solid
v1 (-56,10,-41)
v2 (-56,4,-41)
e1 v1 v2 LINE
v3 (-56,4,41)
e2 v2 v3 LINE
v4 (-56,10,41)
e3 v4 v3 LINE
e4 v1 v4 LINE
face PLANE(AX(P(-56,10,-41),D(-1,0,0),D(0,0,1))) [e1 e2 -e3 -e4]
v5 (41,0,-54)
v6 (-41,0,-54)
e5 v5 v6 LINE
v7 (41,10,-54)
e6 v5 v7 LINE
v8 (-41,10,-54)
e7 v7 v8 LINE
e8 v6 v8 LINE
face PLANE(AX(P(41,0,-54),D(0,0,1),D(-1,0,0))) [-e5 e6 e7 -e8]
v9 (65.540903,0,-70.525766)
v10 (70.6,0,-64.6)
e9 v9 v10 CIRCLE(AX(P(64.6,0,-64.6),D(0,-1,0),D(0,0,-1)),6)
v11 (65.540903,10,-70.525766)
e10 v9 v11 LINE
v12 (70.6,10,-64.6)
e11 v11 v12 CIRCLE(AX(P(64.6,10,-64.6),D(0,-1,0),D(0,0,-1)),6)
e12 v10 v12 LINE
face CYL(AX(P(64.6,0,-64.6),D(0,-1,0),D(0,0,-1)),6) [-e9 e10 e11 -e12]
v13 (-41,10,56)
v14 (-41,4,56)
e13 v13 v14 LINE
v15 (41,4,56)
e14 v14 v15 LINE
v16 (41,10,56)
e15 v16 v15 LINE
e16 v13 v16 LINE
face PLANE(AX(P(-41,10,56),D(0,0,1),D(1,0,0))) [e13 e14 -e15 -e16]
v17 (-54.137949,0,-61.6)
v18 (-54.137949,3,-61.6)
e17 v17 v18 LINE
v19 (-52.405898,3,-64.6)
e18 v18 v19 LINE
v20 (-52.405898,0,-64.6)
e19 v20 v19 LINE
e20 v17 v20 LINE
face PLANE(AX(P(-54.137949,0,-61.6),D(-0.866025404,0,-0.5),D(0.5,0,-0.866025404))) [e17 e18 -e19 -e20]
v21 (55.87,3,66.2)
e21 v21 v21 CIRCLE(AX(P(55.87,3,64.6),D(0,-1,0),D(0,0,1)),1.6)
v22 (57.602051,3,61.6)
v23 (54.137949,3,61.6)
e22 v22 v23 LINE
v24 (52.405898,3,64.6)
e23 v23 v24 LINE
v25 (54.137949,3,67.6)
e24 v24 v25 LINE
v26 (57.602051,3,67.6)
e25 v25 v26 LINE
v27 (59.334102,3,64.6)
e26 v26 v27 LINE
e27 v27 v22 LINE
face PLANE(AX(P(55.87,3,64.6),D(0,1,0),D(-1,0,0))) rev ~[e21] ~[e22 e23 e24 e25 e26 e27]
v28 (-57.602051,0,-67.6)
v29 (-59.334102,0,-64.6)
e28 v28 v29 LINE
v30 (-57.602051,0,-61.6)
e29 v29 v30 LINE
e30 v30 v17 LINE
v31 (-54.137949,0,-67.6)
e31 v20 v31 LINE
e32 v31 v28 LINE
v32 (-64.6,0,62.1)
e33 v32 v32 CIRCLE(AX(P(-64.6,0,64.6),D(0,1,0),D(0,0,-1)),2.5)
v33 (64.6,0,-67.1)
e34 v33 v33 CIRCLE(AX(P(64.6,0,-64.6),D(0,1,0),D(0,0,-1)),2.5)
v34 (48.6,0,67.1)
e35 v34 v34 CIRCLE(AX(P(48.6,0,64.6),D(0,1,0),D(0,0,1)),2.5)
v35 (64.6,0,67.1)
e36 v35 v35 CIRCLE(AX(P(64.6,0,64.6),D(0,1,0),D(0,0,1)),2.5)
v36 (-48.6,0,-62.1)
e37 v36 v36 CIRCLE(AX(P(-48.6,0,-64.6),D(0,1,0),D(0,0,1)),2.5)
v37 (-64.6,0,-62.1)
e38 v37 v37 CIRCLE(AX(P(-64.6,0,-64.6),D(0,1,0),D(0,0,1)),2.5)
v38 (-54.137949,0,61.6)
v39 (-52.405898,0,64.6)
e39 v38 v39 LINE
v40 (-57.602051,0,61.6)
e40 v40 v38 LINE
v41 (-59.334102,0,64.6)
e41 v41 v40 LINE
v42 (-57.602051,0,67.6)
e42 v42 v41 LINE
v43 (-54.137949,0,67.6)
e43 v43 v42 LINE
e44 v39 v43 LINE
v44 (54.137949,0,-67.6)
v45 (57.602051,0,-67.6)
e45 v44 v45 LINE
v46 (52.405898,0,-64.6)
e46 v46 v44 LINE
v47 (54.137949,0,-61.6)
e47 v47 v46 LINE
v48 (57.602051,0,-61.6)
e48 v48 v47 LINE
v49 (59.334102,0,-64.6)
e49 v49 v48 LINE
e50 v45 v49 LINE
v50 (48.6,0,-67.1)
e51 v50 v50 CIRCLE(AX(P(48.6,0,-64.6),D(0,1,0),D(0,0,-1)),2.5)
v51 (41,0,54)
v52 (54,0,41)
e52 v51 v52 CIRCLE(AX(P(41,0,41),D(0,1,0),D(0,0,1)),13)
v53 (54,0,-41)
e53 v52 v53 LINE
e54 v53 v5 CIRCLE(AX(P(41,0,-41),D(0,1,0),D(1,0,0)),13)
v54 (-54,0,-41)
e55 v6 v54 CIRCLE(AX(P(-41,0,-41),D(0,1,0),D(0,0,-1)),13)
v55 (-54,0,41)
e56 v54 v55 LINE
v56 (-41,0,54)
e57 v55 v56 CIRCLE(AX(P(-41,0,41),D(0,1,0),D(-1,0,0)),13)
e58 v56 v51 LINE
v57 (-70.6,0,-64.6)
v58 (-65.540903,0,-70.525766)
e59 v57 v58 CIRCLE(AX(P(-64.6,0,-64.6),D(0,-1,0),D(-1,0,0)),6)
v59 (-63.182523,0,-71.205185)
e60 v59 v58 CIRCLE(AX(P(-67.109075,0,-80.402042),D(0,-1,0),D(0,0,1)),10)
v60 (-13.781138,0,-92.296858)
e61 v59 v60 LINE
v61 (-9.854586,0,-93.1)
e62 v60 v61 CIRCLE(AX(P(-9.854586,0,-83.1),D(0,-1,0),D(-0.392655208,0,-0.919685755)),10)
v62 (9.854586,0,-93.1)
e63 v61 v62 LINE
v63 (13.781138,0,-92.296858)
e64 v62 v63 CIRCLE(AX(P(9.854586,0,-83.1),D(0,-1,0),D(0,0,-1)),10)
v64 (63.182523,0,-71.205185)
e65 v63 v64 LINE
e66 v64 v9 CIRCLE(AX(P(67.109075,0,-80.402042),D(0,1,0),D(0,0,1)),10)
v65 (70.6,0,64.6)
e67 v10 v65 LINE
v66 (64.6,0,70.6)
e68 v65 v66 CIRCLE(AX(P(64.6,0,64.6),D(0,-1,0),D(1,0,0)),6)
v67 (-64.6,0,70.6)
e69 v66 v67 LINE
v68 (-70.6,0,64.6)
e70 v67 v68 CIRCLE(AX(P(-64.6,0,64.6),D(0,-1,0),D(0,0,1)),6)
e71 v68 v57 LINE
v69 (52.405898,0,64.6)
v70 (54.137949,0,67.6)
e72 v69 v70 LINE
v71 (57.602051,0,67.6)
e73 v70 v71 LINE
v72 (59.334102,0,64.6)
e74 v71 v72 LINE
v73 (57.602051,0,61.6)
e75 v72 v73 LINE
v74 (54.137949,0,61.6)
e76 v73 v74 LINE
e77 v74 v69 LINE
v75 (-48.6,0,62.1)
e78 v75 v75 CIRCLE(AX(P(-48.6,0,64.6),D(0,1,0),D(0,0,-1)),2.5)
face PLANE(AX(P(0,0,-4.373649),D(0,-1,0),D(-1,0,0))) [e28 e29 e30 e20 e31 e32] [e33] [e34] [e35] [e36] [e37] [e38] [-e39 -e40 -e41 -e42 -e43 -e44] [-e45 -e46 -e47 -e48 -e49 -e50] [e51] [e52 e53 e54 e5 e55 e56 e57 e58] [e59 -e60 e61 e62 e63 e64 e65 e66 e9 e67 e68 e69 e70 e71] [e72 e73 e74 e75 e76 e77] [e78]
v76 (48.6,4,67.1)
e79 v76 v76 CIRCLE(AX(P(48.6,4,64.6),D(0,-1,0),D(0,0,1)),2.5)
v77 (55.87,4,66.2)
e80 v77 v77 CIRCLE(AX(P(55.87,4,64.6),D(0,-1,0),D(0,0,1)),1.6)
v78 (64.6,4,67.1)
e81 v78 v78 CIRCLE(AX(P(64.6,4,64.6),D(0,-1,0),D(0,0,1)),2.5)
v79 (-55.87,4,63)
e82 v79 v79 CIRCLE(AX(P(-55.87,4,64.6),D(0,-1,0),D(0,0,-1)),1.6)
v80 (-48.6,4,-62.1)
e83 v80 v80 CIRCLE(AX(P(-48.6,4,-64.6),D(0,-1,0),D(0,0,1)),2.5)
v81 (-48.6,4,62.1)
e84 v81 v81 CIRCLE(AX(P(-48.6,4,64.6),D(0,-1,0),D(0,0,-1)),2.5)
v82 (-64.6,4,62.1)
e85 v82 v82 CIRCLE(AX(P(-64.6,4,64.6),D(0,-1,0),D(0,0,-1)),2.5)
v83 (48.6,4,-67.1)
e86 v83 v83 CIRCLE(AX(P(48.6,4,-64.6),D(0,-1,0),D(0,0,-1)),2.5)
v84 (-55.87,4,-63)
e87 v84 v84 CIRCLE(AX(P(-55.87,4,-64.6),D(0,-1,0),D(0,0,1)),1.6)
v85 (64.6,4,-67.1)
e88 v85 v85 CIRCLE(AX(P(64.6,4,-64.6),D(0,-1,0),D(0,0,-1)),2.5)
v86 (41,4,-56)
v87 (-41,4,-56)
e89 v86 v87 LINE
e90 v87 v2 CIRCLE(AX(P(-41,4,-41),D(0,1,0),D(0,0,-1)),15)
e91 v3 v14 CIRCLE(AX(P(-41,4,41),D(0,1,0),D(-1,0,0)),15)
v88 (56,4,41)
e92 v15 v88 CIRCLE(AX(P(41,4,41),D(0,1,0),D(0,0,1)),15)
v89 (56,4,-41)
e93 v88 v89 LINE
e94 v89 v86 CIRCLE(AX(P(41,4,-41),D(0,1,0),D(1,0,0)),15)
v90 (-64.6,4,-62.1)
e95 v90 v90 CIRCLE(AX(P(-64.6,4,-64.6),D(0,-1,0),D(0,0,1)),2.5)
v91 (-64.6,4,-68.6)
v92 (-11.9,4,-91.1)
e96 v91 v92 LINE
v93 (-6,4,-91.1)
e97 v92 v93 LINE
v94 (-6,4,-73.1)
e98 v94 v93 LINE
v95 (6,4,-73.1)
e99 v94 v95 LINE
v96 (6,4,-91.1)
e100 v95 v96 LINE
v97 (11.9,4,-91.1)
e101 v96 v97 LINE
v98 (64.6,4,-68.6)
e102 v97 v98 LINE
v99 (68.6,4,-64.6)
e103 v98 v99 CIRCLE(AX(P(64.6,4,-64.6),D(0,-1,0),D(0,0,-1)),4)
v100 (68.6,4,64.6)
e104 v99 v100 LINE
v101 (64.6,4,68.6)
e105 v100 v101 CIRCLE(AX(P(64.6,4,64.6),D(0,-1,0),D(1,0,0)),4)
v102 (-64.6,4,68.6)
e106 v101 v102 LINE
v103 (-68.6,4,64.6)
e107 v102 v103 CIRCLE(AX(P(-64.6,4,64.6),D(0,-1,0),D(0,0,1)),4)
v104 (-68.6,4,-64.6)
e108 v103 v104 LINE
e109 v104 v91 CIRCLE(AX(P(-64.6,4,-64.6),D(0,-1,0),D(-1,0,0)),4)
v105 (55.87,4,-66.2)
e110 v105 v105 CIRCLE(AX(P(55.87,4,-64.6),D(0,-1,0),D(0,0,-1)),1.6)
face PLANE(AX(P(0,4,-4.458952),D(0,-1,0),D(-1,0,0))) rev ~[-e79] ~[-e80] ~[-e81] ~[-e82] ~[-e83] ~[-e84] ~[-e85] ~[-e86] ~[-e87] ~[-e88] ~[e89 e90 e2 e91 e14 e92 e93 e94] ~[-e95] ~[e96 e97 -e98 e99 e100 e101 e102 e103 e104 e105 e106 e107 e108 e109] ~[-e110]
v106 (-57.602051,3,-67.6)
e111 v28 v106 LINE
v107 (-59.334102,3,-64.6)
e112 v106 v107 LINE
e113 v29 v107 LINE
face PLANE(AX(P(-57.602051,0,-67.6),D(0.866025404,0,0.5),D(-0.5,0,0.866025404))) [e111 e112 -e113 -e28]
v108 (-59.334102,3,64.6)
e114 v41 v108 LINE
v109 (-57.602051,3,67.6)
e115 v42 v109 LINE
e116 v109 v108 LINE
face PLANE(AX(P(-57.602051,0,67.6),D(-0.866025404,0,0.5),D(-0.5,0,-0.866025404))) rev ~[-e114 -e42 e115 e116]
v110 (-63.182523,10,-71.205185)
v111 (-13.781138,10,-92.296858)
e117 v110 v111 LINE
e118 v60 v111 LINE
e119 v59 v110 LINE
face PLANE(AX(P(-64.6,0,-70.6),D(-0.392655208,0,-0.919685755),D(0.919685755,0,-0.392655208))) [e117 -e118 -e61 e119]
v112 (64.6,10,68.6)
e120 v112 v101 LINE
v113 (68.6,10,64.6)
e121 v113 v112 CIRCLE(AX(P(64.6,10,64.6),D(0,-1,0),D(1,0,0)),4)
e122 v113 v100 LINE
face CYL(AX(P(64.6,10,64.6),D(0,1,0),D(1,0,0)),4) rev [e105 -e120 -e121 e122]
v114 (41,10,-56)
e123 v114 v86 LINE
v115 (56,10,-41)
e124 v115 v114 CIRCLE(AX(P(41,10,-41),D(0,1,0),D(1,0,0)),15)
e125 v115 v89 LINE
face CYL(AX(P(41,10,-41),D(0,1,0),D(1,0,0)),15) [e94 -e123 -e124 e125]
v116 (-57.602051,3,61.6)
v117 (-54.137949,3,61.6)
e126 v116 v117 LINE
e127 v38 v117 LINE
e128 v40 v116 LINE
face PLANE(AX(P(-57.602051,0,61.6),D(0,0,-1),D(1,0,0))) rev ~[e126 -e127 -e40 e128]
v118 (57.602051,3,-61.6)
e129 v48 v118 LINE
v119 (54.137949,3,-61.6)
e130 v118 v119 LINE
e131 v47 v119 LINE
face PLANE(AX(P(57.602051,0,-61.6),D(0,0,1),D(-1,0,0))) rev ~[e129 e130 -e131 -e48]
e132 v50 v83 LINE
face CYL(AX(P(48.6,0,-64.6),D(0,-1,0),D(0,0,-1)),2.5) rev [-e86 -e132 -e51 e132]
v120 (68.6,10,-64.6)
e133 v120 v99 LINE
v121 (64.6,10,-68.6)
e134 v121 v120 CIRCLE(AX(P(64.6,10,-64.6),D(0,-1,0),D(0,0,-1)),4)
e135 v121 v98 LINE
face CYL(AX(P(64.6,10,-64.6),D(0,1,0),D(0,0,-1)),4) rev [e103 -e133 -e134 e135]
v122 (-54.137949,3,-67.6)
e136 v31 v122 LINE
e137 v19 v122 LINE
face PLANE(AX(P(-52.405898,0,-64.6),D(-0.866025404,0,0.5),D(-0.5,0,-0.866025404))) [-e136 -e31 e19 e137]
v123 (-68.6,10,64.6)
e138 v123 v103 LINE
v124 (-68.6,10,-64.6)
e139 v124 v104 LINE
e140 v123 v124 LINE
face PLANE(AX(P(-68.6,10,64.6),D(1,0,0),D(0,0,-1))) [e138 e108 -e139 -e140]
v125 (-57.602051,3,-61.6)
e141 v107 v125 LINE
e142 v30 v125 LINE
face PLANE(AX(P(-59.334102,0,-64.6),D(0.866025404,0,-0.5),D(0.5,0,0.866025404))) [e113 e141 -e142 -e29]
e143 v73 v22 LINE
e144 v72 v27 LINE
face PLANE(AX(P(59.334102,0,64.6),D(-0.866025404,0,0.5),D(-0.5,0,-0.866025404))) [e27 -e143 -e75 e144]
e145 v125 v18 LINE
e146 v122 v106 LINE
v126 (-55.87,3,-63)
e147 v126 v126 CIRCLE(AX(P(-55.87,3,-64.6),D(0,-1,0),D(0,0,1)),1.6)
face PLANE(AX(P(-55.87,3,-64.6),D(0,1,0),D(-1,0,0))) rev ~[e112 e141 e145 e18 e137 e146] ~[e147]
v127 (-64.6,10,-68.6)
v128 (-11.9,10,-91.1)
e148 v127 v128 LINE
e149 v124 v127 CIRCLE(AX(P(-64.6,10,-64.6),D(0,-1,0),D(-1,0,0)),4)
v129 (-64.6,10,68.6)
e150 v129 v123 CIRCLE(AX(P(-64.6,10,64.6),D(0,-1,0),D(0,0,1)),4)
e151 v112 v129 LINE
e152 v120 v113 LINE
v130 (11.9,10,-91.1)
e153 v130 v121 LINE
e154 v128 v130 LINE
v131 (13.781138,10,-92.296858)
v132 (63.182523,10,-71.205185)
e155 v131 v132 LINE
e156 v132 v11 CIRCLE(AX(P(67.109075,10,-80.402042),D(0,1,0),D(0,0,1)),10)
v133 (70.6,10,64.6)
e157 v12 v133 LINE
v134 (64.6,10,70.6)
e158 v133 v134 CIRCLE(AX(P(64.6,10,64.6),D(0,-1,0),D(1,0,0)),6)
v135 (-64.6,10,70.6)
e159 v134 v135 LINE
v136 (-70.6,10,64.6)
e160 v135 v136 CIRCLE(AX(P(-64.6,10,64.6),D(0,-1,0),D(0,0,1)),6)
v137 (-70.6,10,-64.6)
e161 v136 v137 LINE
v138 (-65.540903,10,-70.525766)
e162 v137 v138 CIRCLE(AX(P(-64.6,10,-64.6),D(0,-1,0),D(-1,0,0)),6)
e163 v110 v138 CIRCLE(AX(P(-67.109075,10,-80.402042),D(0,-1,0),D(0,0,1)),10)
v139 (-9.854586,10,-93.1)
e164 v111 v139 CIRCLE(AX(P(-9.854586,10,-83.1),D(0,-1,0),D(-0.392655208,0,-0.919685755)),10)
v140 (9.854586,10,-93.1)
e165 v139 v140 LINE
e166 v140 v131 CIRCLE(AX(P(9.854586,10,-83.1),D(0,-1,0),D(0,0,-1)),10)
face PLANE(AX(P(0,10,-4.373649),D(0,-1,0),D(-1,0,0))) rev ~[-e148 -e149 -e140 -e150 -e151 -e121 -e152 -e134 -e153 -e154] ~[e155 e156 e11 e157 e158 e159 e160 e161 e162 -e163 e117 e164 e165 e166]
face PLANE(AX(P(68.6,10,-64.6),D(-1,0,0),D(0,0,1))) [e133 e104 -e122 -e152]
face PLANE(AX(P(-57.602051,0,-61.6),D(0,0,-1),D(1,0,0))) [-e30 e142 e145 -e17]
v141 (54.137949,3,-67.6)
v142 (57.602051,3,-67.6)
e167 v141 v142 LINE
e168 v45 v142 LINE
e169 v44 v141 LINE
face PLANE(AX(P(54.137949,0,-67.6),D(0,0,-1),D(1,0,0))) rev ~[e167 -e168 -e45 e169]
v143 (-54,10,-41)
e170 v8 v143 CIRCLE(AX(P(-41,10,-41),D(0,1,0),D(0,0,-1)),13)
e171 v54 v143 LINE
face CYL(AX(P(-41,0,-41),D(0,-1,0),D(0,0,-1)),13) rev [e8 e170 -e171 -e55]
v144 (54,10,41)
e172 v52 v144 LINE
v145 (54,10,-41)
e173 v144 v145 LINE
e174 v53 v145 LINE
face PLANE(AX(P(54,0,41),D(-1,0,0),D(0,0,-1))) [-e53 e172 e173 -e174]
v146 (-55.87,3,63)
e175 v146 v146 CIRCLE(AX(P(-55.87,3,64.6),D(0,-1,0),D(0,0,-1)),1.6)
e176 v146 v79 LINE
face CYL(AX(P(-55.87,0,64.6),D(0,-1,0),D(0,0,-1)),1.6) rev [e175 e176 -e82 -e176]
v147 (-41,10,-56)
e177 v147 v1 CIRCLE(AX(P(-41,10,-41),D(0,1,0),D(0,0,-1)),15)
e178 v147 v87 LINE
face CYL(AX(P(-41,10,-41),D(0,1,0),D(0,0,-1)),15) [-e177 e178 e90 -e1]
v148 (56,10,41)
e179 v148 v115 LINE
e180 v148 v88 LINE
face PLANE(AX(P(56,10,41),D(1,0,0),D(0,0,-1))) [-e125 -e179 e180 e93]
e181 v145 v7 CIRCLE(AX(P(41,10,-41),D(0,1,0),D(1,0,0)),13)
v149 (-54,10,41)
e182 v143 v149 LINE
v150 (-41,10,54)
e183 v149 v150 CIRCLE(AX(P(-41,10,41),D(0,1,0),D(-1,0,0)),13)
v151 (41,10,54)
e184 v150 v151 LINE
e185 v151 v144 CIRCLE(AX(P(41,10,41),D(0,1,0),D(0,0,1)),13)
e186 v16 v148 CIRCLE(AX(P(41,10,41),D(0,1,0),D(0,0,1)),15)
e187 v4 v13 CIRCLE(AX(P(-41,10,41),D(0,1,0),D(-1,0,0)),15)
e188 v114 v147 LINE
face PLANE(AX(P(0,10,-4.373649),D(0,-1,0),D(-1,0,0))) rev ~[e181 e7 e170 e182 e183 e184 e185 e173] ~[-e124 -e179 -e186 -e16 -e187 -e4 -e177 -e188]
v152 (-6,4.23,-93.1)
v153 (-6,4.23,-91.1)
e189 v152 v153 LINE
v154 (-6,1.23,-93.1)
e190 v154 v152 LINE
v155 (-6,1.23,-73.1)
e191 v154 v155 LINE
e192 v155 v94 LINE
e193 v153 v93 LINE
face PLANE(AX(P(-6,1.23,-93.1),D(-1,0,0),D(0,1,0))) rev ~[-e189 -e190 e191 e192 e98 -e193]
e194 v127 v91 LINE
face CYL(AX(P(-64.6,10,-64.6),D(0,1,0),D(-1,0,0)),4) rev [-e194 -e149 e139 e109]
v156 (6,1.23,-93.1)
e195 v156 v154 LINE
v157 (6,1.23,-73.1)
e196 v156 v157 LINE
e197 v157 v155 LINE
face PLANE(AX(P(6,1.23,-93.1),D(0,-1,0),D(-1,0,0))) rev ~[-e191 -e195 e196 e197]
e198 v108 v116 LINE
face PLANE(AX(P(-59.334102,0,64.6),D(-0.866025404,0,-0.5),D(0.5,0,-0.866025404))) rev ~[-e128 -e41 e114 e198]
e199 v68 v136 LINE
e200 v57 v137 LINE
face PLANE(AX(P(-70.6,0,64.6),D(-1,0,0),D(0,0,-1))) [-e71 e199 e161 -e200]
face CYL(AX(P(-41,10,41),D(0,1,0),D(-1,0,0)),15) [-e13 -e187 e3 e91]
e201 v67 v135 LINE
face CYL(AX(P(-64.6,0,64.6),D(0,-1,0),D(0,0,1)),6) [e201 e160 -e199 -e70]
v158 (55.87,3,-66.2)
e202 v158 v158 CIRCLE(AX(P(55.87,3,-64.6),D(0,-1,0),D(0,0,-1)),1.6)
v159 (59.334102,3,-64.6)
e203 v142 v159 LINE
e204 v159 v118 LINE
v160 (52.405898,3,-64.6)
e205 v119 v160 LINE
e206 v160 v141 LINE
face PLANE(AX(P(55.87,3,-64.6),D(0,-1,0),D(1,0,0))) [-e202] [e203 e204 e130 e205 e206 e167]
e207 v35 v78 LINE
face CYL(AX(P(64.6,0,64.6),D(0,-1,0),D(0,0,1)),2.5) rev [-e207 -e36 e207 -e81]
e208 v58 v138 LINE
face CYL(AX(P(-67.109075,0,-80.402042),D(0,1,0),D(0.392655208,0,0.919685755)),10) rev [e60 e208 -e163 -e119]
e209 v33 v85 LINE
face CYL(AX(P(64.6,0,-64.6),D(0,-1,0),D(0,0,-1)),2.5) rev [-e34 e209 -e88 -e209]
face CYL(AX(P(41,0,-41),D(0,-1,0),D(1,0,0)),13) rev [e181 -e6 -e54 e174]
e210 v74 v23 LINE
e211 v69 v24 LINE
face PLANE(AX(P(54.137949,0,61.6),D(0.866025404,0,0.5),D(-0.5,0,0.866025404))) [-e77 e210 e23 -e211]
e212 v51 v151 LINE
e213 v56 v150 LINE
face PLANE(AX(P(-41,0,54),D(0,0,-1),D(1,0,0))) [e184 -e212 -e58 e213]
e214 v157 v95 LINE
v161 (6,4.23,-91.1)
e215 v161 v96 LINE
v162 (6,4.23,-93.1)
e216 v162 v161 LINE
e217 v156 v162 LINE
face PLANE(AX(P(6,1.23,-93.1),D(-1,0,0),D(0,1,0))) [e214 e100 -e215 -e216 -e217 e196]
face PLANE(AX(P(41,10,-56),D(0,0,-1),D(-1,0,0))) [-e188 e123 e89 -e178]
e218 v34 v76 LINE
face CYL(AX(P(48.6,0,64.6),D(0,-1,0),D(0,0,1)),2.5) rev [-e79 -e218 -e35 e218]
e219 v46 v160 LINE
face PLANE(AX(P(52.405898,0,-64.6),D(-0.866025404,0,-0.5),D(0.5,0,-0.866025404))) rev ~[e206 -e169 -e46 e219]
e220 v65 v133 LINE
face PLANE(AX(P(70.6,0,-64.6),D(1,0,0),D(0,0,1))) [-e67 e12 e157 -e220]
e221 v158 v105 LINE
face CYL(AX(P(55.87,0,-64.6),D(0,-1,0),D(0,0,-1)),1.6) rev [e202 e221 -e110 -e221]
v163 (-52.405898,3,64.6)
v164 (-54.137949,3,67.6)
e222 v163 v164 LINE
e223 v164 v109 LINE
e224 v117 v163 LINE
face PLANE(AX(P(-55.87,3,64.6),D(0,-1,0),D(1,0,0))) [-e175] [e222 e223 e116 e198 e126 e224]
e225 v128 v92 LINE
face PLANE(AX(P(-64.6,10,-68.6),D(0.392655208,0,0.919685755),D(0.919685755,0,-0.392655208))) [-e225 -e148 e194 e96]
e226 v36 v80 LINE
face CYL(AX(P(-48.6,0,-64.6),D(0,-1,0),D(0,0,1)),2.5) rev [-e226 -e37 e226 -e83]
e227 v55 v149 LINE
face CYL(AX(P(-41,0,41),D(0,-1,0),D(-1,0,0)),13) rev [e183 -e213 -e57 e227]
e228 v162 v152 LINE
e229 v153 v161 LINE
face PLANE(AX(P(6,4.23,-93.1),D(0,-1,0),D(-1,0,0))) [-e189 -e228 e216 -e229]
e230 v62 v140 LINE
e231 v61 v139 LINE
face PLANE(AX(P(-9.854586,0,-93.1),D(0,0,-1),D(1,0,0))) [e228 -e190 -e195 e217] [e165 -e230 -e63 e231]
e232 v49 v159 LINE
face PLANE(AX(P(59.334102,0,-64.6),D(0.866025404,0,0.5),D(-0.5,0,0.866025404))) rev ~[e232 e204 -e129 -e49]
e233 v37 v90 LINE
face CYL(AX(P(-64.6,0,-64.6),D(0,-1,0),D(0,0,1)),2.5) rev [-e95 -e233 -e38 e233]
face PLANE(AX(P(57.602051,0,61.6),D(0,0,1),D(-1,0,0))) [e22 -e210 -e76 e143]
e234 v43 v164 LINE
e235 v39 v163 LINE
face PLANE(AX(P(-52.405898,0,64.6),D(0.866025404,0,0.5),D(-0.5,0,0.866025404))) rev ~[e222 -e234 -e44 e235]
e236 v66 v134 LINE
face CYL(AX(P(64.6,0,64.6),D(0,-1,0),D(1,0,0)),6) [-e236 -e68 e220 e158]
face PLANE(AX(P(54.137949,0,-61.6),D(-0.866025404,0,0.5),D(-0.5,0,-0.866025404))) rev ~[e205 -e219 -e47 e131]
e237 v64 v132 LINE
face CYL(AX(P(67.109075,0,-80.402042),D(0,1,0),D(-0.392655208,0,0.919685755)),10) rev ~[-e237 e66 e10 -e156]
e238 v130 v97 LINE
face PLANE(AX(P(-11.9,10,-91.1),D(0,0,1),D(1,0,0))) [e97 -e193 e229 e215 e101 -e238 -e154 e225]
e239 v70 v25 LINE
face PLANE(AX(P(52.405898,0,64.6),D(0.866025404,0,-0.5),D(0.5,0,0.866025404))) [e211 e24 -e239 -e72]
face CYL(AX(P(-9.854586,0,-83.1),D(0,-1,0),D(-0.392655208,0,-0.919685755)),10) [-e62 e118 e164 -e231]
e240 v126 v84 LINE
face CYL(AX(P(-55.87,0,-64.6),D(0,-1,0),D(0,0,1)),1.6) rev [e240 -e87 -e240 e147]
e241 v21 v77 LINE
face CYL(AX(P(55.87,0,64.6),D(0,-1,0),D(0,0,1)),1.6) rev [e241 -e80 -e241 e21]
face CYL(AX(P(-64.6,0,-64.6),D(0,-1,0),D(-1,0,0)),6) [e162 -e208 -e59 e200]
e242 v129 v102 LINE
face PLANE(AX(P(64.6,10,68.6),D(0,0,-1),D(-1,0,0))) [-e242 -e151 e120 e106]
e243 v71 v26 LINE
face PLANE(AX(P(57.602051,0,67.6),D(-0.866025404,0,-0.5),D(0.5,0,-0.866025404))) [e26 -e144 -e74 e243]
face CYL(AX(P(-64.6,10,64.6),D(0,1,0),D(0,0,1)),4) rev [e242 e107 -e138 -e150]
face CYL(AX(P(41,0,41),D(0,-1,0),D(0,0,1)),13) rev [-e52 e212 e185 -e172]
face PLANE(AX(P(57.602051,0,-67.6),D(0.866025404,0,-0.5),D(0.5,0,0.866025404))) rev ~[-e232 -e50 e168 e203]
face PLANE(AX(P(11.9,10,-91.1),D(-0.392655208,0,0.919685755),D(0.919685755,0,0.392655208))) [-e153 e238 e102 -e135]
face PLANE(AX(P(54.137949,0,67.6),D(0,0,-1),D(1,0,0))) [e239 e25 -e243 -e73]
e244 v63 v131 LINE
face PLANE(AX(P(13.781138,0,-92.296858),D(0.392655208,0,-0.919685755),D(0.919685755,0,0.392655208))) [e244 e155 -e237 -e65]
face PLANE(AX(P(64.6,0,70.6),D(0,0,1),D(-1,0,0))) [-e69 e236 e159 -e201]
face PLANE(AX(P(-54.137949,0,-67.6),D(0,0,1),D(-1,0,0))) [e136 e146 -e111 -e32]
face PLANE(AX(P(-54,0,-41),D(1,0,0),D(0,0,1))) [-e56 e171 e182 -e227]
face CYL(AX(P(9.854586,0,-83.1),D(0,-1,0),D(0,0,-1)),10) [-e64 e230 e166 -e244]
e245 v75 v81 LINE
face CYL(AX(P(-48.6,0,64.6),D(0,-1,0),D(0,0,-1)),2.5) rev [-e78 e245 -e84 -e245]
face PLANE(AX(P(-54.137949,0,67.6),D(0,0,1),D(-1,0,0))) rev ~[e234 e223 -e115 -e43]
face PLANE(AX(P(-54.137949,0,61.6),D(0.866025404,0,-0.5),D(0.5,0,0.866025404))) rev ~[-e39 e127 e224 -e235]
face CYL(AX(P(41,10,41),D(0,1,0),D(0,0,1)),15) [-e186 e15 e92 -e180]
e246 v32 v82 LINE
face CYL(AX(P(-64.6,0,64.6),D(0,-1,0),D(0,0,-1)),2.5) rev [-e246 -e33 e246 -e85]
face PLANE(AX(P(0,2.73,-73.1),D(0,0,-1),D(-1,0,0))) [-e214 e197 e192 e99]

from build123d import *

# Parameters (mm, degrees)
BOSS_EXTRUDE1_DEPTH = 10
CUT_EXTRUDE1_DEPTH  = 6
SKETCH3_R           = 2.5
SKETCH3_R_2         = 1.6
CUT_EXTRUDE5_DEPTH  = 118.268793803
CUT_EXTRUDE6_DEPTH  = 3
FILLET1_R           = 10
SKETCH7_W           = 12
SKETCH7_H           = 3
CUT_EXTRUDE7_DEPTH  = 20


with BuildPart() as part:
    # Sketch1 → Boss-Extrude1 (new body)
    with BuildSketch(Plane(origin=(0, 0, 0), x_dir=(1, 0, 0), z_dir=(0, 1, 0))):
        with BuildLine():
            Line((-64.6, 70.6), (-13.781138102, 92.296857547))
            ThreePointArc((-13.781138102, 92.296857547), (-11.858510235, 92.897157125), (-9.854586018, 93.1))
            Line((-9.854586018, 93.1), (9.854586018, 93.1))
            ThreePointArc((9.854586018, 93.1), (11.858510235, 92.897157125), (13.781138102, 92.296857547))
            Line((13.781138102, 92.296857547), (64.6, 70.6))
            ThreePointArc((64.6, 70.6), (68.842640687, 68.842640687), (70.6, 64.6))
            Line((70.6, 64.6), (70.6, -64.6))
            ThreePointArc((70.6, -64.6), (68.842640687, -68.842640687), (64.6, -70.6))
            Line((64.6, -70.6), (-64.6, -70.6))
            ThreePointArc((-64.6, -70.6), (-68.842640687, -68.842640687), (-70.6, -64.6))
            Line((-70.6, -64.6), (-70.6, 64.6))
            ThreePointArc((-70.6, 64.6), (-68.842640687, 68.842640687), (-64.6, 70.6))
        make_face()
        with BuildLine():
            Line((-41, -54), (41, -54))
            ThreePointArc((41, -54), (50.192388155, -50.192388155), (54, -41))
            Line((54, -41), (54, 41))
            ThreePointArc((54, 41), (50.192388155, 50.192388155), (41, 54))
            Line((41, 54), (-41, 54))
            ThreePointArc((-41, 54), (-50.192388155, 50.192388155), (-54, 41))
            Line((-54, 41), (-54, -41))
            ThreePointArc((-54, -41), (-50.192388155, -50.192388155), (-41, -54))
        make_face(mode=Mode.SUBTRACT)
    extrude(amount=BOSS_EXTRUDE1_DEPTH)

    # Sketch2 → Cut-Extrude1 (cut)
    with BuildSketch(Plane(origin=(0, 10, 0), x_dir=(1, 0, 0), z_dir=(0, 1, 0))):
        with BuildLine():
            Line((-64.6, 68.6), (-11.9, 91.1))
            Line((-11.9, 91.1), (11.9, 91.1))
            Line((11.9, 91.1), (64.6, 68.6))
            ThreePointArc((64.6, 68.6), (67.428427125, 67.428427125), (68.6, 64.6))
            Line((68.6, 64.6), (68.6, -64.6))
            ThreePointArc((68.6, -64.6), (67.428427125, -67.428427125), (64.6, -68.6))
            Line((64.6, -68.6), (-64.6, -68.6))
            ThreePointArc((-64.6, -68.6), (-67.428427125, -67.428427125), (-68.6, -64.6))
            Line((-68.6, -64.6), (-68.6, 64.6))
            ThreePointArc((-68.6, 64.6), (-67.428427125, 67.428427125), (-64.6, 68.6))
        make_face()
        with BuildLine():
            Line((-41, -56), (41, -56))
            ThreePointArc((41, -56), (51.606601718, -51.606601718), (56, -41))
            Line((56, -41), (56, 41))
            ThreePointArc((56, 41), (51.606601718, 51.606601718), (41, 56))
            Line((41, 56), (-41, 56))
            ThreePointArc((-41, 56), (-51.606601718, 51.606601718), (-56, 41))
            Line((-56, 41), (-56, -41))
            ThreePointArc((-56, -41), (-51.606601718, -51.606601718), (-41, -56))
        make_face(mode=Mode.SUBTRACT)
    extrude(amount=-CUT_EXTRUDE1_DEPTH, mode=Mode.SUBTRACT)

    # Sketch3 → Cut-Extrude5 (cut, through all)
    with BuildSketch(Plane(origin=(0, 0, 0), x_dir=(1, 0, 0), z_dir=(0, 1, 0))):
        with Locations(Location((-64.6, 64.6, 0), (0, 0, 270))):
            Circle(SKETCH3_R)
        with Locations(Location((-48.6, 64.6, 0), (0, 0, 270))):
            Circle(SKETCH3_R)
        with Locations(Location((-55.87, 64.6, 0), (0, 0, 270))):
            Circle(SKETCH3_R_2)
        with Locations(Location((55.87, 64.6, 0), (0, 0, 90))):
            Circle(SKETCH3_R_2)
        with Locations(Location((48.6, 64.6, 0), (0, 0, 90))):
            Circle(SKETCH3_R)
        with Locations(Location((64.6, 64.6, 0), (0, 0, 90))):
            Circle(SKETCH3_R)
        with Locations(Location((64.6, -64.6, 0), (0, 0, 270))):
            Circle(SKETCH3_R)
        with Locations(Location((48.6, -64.6, 0), (0, 0, 270))):
            Circle(SKETCH3_R)
        with Locations(Location((55.87, -64.6, 0), (0, 0, 270))):
            Circle(SKETCH3_R_2)
        with Locations(Location((-55.87, -64.6, 0), (0, 0, 90))):
            Circle(SKETCH3_R_2)
        with Locations(Location((-48.6, -64.6, 0), (0, 0, 90))):
            Circle(SKETCH3_R)
        with Locations(Location((-64.6, -64.6, 0), (0, 0, 90))):
            Circle(SKETCH3_R)
    extrude(amount=CUT_EXTRUDE5_DEPTH, mode=Mode.SUBTRACT)

    # Sketch6 → Cut-Extrude6 (cut)
    with BuildSketch(Plane.XZ):
        Polygon((-52.405898385, 64.6), (-54.137949192, 67.6), (-57.602050808, 67.6), (-59.334101615, 64.6), (-57.602050808, 61.6), (-54.137949192, 61.6), align=None)
        Polygon((-54.137949192, -61.6), (-52.405898385, -64.6), (-54.137949192, -67.6), (-57.602050808, -67.6), (-59.334101615, -64.6), (-57.602050808, -61.6), align=None)
        Polygon((52.405898385, -64.6), (54.137949192, -67.6), (57.602050808, -67.6), (59.334101615, -64.6), (57.602050808, -61.6), (54.137949192, -61.6), align=None)
        Polygon((54.137949192, 61.6), (52.405898385, 64.6), (54.137949192, 67.6), (57.602050808, 67.6), (59.334101615, 64.6), (57.602050808, 61.6), align=None)
    extrude(amount=-CUT_EXTRUDE6_DEPTH, mode=Mode.SUBTRACT)

    # Fillet1
    fillet1_edges = [part.edges().sort_by_distance(p)[0] for p in [
        (-64.6, 5, -70.6),
        (64.6, 5, -70.6),
    ]]
    fillet(fillet1_edges, radius=FILLET1_R)

    # Sketch7 → Cut-Extrude7 (cut)
    with BuildSketch(Plane(origin=(0, 0, -93.1), x_dir=(-1, 0, 0), z_dir=(0, 0, -1))):
        with Locations((0, 2.73)):
            Rectangle(SKETCH7_W, SKETCH7_H)
    extrude(amount=-CUT_EXTRUDE7_DEPTH, mode=Mode.SUBTRACT)


solid = part.part
